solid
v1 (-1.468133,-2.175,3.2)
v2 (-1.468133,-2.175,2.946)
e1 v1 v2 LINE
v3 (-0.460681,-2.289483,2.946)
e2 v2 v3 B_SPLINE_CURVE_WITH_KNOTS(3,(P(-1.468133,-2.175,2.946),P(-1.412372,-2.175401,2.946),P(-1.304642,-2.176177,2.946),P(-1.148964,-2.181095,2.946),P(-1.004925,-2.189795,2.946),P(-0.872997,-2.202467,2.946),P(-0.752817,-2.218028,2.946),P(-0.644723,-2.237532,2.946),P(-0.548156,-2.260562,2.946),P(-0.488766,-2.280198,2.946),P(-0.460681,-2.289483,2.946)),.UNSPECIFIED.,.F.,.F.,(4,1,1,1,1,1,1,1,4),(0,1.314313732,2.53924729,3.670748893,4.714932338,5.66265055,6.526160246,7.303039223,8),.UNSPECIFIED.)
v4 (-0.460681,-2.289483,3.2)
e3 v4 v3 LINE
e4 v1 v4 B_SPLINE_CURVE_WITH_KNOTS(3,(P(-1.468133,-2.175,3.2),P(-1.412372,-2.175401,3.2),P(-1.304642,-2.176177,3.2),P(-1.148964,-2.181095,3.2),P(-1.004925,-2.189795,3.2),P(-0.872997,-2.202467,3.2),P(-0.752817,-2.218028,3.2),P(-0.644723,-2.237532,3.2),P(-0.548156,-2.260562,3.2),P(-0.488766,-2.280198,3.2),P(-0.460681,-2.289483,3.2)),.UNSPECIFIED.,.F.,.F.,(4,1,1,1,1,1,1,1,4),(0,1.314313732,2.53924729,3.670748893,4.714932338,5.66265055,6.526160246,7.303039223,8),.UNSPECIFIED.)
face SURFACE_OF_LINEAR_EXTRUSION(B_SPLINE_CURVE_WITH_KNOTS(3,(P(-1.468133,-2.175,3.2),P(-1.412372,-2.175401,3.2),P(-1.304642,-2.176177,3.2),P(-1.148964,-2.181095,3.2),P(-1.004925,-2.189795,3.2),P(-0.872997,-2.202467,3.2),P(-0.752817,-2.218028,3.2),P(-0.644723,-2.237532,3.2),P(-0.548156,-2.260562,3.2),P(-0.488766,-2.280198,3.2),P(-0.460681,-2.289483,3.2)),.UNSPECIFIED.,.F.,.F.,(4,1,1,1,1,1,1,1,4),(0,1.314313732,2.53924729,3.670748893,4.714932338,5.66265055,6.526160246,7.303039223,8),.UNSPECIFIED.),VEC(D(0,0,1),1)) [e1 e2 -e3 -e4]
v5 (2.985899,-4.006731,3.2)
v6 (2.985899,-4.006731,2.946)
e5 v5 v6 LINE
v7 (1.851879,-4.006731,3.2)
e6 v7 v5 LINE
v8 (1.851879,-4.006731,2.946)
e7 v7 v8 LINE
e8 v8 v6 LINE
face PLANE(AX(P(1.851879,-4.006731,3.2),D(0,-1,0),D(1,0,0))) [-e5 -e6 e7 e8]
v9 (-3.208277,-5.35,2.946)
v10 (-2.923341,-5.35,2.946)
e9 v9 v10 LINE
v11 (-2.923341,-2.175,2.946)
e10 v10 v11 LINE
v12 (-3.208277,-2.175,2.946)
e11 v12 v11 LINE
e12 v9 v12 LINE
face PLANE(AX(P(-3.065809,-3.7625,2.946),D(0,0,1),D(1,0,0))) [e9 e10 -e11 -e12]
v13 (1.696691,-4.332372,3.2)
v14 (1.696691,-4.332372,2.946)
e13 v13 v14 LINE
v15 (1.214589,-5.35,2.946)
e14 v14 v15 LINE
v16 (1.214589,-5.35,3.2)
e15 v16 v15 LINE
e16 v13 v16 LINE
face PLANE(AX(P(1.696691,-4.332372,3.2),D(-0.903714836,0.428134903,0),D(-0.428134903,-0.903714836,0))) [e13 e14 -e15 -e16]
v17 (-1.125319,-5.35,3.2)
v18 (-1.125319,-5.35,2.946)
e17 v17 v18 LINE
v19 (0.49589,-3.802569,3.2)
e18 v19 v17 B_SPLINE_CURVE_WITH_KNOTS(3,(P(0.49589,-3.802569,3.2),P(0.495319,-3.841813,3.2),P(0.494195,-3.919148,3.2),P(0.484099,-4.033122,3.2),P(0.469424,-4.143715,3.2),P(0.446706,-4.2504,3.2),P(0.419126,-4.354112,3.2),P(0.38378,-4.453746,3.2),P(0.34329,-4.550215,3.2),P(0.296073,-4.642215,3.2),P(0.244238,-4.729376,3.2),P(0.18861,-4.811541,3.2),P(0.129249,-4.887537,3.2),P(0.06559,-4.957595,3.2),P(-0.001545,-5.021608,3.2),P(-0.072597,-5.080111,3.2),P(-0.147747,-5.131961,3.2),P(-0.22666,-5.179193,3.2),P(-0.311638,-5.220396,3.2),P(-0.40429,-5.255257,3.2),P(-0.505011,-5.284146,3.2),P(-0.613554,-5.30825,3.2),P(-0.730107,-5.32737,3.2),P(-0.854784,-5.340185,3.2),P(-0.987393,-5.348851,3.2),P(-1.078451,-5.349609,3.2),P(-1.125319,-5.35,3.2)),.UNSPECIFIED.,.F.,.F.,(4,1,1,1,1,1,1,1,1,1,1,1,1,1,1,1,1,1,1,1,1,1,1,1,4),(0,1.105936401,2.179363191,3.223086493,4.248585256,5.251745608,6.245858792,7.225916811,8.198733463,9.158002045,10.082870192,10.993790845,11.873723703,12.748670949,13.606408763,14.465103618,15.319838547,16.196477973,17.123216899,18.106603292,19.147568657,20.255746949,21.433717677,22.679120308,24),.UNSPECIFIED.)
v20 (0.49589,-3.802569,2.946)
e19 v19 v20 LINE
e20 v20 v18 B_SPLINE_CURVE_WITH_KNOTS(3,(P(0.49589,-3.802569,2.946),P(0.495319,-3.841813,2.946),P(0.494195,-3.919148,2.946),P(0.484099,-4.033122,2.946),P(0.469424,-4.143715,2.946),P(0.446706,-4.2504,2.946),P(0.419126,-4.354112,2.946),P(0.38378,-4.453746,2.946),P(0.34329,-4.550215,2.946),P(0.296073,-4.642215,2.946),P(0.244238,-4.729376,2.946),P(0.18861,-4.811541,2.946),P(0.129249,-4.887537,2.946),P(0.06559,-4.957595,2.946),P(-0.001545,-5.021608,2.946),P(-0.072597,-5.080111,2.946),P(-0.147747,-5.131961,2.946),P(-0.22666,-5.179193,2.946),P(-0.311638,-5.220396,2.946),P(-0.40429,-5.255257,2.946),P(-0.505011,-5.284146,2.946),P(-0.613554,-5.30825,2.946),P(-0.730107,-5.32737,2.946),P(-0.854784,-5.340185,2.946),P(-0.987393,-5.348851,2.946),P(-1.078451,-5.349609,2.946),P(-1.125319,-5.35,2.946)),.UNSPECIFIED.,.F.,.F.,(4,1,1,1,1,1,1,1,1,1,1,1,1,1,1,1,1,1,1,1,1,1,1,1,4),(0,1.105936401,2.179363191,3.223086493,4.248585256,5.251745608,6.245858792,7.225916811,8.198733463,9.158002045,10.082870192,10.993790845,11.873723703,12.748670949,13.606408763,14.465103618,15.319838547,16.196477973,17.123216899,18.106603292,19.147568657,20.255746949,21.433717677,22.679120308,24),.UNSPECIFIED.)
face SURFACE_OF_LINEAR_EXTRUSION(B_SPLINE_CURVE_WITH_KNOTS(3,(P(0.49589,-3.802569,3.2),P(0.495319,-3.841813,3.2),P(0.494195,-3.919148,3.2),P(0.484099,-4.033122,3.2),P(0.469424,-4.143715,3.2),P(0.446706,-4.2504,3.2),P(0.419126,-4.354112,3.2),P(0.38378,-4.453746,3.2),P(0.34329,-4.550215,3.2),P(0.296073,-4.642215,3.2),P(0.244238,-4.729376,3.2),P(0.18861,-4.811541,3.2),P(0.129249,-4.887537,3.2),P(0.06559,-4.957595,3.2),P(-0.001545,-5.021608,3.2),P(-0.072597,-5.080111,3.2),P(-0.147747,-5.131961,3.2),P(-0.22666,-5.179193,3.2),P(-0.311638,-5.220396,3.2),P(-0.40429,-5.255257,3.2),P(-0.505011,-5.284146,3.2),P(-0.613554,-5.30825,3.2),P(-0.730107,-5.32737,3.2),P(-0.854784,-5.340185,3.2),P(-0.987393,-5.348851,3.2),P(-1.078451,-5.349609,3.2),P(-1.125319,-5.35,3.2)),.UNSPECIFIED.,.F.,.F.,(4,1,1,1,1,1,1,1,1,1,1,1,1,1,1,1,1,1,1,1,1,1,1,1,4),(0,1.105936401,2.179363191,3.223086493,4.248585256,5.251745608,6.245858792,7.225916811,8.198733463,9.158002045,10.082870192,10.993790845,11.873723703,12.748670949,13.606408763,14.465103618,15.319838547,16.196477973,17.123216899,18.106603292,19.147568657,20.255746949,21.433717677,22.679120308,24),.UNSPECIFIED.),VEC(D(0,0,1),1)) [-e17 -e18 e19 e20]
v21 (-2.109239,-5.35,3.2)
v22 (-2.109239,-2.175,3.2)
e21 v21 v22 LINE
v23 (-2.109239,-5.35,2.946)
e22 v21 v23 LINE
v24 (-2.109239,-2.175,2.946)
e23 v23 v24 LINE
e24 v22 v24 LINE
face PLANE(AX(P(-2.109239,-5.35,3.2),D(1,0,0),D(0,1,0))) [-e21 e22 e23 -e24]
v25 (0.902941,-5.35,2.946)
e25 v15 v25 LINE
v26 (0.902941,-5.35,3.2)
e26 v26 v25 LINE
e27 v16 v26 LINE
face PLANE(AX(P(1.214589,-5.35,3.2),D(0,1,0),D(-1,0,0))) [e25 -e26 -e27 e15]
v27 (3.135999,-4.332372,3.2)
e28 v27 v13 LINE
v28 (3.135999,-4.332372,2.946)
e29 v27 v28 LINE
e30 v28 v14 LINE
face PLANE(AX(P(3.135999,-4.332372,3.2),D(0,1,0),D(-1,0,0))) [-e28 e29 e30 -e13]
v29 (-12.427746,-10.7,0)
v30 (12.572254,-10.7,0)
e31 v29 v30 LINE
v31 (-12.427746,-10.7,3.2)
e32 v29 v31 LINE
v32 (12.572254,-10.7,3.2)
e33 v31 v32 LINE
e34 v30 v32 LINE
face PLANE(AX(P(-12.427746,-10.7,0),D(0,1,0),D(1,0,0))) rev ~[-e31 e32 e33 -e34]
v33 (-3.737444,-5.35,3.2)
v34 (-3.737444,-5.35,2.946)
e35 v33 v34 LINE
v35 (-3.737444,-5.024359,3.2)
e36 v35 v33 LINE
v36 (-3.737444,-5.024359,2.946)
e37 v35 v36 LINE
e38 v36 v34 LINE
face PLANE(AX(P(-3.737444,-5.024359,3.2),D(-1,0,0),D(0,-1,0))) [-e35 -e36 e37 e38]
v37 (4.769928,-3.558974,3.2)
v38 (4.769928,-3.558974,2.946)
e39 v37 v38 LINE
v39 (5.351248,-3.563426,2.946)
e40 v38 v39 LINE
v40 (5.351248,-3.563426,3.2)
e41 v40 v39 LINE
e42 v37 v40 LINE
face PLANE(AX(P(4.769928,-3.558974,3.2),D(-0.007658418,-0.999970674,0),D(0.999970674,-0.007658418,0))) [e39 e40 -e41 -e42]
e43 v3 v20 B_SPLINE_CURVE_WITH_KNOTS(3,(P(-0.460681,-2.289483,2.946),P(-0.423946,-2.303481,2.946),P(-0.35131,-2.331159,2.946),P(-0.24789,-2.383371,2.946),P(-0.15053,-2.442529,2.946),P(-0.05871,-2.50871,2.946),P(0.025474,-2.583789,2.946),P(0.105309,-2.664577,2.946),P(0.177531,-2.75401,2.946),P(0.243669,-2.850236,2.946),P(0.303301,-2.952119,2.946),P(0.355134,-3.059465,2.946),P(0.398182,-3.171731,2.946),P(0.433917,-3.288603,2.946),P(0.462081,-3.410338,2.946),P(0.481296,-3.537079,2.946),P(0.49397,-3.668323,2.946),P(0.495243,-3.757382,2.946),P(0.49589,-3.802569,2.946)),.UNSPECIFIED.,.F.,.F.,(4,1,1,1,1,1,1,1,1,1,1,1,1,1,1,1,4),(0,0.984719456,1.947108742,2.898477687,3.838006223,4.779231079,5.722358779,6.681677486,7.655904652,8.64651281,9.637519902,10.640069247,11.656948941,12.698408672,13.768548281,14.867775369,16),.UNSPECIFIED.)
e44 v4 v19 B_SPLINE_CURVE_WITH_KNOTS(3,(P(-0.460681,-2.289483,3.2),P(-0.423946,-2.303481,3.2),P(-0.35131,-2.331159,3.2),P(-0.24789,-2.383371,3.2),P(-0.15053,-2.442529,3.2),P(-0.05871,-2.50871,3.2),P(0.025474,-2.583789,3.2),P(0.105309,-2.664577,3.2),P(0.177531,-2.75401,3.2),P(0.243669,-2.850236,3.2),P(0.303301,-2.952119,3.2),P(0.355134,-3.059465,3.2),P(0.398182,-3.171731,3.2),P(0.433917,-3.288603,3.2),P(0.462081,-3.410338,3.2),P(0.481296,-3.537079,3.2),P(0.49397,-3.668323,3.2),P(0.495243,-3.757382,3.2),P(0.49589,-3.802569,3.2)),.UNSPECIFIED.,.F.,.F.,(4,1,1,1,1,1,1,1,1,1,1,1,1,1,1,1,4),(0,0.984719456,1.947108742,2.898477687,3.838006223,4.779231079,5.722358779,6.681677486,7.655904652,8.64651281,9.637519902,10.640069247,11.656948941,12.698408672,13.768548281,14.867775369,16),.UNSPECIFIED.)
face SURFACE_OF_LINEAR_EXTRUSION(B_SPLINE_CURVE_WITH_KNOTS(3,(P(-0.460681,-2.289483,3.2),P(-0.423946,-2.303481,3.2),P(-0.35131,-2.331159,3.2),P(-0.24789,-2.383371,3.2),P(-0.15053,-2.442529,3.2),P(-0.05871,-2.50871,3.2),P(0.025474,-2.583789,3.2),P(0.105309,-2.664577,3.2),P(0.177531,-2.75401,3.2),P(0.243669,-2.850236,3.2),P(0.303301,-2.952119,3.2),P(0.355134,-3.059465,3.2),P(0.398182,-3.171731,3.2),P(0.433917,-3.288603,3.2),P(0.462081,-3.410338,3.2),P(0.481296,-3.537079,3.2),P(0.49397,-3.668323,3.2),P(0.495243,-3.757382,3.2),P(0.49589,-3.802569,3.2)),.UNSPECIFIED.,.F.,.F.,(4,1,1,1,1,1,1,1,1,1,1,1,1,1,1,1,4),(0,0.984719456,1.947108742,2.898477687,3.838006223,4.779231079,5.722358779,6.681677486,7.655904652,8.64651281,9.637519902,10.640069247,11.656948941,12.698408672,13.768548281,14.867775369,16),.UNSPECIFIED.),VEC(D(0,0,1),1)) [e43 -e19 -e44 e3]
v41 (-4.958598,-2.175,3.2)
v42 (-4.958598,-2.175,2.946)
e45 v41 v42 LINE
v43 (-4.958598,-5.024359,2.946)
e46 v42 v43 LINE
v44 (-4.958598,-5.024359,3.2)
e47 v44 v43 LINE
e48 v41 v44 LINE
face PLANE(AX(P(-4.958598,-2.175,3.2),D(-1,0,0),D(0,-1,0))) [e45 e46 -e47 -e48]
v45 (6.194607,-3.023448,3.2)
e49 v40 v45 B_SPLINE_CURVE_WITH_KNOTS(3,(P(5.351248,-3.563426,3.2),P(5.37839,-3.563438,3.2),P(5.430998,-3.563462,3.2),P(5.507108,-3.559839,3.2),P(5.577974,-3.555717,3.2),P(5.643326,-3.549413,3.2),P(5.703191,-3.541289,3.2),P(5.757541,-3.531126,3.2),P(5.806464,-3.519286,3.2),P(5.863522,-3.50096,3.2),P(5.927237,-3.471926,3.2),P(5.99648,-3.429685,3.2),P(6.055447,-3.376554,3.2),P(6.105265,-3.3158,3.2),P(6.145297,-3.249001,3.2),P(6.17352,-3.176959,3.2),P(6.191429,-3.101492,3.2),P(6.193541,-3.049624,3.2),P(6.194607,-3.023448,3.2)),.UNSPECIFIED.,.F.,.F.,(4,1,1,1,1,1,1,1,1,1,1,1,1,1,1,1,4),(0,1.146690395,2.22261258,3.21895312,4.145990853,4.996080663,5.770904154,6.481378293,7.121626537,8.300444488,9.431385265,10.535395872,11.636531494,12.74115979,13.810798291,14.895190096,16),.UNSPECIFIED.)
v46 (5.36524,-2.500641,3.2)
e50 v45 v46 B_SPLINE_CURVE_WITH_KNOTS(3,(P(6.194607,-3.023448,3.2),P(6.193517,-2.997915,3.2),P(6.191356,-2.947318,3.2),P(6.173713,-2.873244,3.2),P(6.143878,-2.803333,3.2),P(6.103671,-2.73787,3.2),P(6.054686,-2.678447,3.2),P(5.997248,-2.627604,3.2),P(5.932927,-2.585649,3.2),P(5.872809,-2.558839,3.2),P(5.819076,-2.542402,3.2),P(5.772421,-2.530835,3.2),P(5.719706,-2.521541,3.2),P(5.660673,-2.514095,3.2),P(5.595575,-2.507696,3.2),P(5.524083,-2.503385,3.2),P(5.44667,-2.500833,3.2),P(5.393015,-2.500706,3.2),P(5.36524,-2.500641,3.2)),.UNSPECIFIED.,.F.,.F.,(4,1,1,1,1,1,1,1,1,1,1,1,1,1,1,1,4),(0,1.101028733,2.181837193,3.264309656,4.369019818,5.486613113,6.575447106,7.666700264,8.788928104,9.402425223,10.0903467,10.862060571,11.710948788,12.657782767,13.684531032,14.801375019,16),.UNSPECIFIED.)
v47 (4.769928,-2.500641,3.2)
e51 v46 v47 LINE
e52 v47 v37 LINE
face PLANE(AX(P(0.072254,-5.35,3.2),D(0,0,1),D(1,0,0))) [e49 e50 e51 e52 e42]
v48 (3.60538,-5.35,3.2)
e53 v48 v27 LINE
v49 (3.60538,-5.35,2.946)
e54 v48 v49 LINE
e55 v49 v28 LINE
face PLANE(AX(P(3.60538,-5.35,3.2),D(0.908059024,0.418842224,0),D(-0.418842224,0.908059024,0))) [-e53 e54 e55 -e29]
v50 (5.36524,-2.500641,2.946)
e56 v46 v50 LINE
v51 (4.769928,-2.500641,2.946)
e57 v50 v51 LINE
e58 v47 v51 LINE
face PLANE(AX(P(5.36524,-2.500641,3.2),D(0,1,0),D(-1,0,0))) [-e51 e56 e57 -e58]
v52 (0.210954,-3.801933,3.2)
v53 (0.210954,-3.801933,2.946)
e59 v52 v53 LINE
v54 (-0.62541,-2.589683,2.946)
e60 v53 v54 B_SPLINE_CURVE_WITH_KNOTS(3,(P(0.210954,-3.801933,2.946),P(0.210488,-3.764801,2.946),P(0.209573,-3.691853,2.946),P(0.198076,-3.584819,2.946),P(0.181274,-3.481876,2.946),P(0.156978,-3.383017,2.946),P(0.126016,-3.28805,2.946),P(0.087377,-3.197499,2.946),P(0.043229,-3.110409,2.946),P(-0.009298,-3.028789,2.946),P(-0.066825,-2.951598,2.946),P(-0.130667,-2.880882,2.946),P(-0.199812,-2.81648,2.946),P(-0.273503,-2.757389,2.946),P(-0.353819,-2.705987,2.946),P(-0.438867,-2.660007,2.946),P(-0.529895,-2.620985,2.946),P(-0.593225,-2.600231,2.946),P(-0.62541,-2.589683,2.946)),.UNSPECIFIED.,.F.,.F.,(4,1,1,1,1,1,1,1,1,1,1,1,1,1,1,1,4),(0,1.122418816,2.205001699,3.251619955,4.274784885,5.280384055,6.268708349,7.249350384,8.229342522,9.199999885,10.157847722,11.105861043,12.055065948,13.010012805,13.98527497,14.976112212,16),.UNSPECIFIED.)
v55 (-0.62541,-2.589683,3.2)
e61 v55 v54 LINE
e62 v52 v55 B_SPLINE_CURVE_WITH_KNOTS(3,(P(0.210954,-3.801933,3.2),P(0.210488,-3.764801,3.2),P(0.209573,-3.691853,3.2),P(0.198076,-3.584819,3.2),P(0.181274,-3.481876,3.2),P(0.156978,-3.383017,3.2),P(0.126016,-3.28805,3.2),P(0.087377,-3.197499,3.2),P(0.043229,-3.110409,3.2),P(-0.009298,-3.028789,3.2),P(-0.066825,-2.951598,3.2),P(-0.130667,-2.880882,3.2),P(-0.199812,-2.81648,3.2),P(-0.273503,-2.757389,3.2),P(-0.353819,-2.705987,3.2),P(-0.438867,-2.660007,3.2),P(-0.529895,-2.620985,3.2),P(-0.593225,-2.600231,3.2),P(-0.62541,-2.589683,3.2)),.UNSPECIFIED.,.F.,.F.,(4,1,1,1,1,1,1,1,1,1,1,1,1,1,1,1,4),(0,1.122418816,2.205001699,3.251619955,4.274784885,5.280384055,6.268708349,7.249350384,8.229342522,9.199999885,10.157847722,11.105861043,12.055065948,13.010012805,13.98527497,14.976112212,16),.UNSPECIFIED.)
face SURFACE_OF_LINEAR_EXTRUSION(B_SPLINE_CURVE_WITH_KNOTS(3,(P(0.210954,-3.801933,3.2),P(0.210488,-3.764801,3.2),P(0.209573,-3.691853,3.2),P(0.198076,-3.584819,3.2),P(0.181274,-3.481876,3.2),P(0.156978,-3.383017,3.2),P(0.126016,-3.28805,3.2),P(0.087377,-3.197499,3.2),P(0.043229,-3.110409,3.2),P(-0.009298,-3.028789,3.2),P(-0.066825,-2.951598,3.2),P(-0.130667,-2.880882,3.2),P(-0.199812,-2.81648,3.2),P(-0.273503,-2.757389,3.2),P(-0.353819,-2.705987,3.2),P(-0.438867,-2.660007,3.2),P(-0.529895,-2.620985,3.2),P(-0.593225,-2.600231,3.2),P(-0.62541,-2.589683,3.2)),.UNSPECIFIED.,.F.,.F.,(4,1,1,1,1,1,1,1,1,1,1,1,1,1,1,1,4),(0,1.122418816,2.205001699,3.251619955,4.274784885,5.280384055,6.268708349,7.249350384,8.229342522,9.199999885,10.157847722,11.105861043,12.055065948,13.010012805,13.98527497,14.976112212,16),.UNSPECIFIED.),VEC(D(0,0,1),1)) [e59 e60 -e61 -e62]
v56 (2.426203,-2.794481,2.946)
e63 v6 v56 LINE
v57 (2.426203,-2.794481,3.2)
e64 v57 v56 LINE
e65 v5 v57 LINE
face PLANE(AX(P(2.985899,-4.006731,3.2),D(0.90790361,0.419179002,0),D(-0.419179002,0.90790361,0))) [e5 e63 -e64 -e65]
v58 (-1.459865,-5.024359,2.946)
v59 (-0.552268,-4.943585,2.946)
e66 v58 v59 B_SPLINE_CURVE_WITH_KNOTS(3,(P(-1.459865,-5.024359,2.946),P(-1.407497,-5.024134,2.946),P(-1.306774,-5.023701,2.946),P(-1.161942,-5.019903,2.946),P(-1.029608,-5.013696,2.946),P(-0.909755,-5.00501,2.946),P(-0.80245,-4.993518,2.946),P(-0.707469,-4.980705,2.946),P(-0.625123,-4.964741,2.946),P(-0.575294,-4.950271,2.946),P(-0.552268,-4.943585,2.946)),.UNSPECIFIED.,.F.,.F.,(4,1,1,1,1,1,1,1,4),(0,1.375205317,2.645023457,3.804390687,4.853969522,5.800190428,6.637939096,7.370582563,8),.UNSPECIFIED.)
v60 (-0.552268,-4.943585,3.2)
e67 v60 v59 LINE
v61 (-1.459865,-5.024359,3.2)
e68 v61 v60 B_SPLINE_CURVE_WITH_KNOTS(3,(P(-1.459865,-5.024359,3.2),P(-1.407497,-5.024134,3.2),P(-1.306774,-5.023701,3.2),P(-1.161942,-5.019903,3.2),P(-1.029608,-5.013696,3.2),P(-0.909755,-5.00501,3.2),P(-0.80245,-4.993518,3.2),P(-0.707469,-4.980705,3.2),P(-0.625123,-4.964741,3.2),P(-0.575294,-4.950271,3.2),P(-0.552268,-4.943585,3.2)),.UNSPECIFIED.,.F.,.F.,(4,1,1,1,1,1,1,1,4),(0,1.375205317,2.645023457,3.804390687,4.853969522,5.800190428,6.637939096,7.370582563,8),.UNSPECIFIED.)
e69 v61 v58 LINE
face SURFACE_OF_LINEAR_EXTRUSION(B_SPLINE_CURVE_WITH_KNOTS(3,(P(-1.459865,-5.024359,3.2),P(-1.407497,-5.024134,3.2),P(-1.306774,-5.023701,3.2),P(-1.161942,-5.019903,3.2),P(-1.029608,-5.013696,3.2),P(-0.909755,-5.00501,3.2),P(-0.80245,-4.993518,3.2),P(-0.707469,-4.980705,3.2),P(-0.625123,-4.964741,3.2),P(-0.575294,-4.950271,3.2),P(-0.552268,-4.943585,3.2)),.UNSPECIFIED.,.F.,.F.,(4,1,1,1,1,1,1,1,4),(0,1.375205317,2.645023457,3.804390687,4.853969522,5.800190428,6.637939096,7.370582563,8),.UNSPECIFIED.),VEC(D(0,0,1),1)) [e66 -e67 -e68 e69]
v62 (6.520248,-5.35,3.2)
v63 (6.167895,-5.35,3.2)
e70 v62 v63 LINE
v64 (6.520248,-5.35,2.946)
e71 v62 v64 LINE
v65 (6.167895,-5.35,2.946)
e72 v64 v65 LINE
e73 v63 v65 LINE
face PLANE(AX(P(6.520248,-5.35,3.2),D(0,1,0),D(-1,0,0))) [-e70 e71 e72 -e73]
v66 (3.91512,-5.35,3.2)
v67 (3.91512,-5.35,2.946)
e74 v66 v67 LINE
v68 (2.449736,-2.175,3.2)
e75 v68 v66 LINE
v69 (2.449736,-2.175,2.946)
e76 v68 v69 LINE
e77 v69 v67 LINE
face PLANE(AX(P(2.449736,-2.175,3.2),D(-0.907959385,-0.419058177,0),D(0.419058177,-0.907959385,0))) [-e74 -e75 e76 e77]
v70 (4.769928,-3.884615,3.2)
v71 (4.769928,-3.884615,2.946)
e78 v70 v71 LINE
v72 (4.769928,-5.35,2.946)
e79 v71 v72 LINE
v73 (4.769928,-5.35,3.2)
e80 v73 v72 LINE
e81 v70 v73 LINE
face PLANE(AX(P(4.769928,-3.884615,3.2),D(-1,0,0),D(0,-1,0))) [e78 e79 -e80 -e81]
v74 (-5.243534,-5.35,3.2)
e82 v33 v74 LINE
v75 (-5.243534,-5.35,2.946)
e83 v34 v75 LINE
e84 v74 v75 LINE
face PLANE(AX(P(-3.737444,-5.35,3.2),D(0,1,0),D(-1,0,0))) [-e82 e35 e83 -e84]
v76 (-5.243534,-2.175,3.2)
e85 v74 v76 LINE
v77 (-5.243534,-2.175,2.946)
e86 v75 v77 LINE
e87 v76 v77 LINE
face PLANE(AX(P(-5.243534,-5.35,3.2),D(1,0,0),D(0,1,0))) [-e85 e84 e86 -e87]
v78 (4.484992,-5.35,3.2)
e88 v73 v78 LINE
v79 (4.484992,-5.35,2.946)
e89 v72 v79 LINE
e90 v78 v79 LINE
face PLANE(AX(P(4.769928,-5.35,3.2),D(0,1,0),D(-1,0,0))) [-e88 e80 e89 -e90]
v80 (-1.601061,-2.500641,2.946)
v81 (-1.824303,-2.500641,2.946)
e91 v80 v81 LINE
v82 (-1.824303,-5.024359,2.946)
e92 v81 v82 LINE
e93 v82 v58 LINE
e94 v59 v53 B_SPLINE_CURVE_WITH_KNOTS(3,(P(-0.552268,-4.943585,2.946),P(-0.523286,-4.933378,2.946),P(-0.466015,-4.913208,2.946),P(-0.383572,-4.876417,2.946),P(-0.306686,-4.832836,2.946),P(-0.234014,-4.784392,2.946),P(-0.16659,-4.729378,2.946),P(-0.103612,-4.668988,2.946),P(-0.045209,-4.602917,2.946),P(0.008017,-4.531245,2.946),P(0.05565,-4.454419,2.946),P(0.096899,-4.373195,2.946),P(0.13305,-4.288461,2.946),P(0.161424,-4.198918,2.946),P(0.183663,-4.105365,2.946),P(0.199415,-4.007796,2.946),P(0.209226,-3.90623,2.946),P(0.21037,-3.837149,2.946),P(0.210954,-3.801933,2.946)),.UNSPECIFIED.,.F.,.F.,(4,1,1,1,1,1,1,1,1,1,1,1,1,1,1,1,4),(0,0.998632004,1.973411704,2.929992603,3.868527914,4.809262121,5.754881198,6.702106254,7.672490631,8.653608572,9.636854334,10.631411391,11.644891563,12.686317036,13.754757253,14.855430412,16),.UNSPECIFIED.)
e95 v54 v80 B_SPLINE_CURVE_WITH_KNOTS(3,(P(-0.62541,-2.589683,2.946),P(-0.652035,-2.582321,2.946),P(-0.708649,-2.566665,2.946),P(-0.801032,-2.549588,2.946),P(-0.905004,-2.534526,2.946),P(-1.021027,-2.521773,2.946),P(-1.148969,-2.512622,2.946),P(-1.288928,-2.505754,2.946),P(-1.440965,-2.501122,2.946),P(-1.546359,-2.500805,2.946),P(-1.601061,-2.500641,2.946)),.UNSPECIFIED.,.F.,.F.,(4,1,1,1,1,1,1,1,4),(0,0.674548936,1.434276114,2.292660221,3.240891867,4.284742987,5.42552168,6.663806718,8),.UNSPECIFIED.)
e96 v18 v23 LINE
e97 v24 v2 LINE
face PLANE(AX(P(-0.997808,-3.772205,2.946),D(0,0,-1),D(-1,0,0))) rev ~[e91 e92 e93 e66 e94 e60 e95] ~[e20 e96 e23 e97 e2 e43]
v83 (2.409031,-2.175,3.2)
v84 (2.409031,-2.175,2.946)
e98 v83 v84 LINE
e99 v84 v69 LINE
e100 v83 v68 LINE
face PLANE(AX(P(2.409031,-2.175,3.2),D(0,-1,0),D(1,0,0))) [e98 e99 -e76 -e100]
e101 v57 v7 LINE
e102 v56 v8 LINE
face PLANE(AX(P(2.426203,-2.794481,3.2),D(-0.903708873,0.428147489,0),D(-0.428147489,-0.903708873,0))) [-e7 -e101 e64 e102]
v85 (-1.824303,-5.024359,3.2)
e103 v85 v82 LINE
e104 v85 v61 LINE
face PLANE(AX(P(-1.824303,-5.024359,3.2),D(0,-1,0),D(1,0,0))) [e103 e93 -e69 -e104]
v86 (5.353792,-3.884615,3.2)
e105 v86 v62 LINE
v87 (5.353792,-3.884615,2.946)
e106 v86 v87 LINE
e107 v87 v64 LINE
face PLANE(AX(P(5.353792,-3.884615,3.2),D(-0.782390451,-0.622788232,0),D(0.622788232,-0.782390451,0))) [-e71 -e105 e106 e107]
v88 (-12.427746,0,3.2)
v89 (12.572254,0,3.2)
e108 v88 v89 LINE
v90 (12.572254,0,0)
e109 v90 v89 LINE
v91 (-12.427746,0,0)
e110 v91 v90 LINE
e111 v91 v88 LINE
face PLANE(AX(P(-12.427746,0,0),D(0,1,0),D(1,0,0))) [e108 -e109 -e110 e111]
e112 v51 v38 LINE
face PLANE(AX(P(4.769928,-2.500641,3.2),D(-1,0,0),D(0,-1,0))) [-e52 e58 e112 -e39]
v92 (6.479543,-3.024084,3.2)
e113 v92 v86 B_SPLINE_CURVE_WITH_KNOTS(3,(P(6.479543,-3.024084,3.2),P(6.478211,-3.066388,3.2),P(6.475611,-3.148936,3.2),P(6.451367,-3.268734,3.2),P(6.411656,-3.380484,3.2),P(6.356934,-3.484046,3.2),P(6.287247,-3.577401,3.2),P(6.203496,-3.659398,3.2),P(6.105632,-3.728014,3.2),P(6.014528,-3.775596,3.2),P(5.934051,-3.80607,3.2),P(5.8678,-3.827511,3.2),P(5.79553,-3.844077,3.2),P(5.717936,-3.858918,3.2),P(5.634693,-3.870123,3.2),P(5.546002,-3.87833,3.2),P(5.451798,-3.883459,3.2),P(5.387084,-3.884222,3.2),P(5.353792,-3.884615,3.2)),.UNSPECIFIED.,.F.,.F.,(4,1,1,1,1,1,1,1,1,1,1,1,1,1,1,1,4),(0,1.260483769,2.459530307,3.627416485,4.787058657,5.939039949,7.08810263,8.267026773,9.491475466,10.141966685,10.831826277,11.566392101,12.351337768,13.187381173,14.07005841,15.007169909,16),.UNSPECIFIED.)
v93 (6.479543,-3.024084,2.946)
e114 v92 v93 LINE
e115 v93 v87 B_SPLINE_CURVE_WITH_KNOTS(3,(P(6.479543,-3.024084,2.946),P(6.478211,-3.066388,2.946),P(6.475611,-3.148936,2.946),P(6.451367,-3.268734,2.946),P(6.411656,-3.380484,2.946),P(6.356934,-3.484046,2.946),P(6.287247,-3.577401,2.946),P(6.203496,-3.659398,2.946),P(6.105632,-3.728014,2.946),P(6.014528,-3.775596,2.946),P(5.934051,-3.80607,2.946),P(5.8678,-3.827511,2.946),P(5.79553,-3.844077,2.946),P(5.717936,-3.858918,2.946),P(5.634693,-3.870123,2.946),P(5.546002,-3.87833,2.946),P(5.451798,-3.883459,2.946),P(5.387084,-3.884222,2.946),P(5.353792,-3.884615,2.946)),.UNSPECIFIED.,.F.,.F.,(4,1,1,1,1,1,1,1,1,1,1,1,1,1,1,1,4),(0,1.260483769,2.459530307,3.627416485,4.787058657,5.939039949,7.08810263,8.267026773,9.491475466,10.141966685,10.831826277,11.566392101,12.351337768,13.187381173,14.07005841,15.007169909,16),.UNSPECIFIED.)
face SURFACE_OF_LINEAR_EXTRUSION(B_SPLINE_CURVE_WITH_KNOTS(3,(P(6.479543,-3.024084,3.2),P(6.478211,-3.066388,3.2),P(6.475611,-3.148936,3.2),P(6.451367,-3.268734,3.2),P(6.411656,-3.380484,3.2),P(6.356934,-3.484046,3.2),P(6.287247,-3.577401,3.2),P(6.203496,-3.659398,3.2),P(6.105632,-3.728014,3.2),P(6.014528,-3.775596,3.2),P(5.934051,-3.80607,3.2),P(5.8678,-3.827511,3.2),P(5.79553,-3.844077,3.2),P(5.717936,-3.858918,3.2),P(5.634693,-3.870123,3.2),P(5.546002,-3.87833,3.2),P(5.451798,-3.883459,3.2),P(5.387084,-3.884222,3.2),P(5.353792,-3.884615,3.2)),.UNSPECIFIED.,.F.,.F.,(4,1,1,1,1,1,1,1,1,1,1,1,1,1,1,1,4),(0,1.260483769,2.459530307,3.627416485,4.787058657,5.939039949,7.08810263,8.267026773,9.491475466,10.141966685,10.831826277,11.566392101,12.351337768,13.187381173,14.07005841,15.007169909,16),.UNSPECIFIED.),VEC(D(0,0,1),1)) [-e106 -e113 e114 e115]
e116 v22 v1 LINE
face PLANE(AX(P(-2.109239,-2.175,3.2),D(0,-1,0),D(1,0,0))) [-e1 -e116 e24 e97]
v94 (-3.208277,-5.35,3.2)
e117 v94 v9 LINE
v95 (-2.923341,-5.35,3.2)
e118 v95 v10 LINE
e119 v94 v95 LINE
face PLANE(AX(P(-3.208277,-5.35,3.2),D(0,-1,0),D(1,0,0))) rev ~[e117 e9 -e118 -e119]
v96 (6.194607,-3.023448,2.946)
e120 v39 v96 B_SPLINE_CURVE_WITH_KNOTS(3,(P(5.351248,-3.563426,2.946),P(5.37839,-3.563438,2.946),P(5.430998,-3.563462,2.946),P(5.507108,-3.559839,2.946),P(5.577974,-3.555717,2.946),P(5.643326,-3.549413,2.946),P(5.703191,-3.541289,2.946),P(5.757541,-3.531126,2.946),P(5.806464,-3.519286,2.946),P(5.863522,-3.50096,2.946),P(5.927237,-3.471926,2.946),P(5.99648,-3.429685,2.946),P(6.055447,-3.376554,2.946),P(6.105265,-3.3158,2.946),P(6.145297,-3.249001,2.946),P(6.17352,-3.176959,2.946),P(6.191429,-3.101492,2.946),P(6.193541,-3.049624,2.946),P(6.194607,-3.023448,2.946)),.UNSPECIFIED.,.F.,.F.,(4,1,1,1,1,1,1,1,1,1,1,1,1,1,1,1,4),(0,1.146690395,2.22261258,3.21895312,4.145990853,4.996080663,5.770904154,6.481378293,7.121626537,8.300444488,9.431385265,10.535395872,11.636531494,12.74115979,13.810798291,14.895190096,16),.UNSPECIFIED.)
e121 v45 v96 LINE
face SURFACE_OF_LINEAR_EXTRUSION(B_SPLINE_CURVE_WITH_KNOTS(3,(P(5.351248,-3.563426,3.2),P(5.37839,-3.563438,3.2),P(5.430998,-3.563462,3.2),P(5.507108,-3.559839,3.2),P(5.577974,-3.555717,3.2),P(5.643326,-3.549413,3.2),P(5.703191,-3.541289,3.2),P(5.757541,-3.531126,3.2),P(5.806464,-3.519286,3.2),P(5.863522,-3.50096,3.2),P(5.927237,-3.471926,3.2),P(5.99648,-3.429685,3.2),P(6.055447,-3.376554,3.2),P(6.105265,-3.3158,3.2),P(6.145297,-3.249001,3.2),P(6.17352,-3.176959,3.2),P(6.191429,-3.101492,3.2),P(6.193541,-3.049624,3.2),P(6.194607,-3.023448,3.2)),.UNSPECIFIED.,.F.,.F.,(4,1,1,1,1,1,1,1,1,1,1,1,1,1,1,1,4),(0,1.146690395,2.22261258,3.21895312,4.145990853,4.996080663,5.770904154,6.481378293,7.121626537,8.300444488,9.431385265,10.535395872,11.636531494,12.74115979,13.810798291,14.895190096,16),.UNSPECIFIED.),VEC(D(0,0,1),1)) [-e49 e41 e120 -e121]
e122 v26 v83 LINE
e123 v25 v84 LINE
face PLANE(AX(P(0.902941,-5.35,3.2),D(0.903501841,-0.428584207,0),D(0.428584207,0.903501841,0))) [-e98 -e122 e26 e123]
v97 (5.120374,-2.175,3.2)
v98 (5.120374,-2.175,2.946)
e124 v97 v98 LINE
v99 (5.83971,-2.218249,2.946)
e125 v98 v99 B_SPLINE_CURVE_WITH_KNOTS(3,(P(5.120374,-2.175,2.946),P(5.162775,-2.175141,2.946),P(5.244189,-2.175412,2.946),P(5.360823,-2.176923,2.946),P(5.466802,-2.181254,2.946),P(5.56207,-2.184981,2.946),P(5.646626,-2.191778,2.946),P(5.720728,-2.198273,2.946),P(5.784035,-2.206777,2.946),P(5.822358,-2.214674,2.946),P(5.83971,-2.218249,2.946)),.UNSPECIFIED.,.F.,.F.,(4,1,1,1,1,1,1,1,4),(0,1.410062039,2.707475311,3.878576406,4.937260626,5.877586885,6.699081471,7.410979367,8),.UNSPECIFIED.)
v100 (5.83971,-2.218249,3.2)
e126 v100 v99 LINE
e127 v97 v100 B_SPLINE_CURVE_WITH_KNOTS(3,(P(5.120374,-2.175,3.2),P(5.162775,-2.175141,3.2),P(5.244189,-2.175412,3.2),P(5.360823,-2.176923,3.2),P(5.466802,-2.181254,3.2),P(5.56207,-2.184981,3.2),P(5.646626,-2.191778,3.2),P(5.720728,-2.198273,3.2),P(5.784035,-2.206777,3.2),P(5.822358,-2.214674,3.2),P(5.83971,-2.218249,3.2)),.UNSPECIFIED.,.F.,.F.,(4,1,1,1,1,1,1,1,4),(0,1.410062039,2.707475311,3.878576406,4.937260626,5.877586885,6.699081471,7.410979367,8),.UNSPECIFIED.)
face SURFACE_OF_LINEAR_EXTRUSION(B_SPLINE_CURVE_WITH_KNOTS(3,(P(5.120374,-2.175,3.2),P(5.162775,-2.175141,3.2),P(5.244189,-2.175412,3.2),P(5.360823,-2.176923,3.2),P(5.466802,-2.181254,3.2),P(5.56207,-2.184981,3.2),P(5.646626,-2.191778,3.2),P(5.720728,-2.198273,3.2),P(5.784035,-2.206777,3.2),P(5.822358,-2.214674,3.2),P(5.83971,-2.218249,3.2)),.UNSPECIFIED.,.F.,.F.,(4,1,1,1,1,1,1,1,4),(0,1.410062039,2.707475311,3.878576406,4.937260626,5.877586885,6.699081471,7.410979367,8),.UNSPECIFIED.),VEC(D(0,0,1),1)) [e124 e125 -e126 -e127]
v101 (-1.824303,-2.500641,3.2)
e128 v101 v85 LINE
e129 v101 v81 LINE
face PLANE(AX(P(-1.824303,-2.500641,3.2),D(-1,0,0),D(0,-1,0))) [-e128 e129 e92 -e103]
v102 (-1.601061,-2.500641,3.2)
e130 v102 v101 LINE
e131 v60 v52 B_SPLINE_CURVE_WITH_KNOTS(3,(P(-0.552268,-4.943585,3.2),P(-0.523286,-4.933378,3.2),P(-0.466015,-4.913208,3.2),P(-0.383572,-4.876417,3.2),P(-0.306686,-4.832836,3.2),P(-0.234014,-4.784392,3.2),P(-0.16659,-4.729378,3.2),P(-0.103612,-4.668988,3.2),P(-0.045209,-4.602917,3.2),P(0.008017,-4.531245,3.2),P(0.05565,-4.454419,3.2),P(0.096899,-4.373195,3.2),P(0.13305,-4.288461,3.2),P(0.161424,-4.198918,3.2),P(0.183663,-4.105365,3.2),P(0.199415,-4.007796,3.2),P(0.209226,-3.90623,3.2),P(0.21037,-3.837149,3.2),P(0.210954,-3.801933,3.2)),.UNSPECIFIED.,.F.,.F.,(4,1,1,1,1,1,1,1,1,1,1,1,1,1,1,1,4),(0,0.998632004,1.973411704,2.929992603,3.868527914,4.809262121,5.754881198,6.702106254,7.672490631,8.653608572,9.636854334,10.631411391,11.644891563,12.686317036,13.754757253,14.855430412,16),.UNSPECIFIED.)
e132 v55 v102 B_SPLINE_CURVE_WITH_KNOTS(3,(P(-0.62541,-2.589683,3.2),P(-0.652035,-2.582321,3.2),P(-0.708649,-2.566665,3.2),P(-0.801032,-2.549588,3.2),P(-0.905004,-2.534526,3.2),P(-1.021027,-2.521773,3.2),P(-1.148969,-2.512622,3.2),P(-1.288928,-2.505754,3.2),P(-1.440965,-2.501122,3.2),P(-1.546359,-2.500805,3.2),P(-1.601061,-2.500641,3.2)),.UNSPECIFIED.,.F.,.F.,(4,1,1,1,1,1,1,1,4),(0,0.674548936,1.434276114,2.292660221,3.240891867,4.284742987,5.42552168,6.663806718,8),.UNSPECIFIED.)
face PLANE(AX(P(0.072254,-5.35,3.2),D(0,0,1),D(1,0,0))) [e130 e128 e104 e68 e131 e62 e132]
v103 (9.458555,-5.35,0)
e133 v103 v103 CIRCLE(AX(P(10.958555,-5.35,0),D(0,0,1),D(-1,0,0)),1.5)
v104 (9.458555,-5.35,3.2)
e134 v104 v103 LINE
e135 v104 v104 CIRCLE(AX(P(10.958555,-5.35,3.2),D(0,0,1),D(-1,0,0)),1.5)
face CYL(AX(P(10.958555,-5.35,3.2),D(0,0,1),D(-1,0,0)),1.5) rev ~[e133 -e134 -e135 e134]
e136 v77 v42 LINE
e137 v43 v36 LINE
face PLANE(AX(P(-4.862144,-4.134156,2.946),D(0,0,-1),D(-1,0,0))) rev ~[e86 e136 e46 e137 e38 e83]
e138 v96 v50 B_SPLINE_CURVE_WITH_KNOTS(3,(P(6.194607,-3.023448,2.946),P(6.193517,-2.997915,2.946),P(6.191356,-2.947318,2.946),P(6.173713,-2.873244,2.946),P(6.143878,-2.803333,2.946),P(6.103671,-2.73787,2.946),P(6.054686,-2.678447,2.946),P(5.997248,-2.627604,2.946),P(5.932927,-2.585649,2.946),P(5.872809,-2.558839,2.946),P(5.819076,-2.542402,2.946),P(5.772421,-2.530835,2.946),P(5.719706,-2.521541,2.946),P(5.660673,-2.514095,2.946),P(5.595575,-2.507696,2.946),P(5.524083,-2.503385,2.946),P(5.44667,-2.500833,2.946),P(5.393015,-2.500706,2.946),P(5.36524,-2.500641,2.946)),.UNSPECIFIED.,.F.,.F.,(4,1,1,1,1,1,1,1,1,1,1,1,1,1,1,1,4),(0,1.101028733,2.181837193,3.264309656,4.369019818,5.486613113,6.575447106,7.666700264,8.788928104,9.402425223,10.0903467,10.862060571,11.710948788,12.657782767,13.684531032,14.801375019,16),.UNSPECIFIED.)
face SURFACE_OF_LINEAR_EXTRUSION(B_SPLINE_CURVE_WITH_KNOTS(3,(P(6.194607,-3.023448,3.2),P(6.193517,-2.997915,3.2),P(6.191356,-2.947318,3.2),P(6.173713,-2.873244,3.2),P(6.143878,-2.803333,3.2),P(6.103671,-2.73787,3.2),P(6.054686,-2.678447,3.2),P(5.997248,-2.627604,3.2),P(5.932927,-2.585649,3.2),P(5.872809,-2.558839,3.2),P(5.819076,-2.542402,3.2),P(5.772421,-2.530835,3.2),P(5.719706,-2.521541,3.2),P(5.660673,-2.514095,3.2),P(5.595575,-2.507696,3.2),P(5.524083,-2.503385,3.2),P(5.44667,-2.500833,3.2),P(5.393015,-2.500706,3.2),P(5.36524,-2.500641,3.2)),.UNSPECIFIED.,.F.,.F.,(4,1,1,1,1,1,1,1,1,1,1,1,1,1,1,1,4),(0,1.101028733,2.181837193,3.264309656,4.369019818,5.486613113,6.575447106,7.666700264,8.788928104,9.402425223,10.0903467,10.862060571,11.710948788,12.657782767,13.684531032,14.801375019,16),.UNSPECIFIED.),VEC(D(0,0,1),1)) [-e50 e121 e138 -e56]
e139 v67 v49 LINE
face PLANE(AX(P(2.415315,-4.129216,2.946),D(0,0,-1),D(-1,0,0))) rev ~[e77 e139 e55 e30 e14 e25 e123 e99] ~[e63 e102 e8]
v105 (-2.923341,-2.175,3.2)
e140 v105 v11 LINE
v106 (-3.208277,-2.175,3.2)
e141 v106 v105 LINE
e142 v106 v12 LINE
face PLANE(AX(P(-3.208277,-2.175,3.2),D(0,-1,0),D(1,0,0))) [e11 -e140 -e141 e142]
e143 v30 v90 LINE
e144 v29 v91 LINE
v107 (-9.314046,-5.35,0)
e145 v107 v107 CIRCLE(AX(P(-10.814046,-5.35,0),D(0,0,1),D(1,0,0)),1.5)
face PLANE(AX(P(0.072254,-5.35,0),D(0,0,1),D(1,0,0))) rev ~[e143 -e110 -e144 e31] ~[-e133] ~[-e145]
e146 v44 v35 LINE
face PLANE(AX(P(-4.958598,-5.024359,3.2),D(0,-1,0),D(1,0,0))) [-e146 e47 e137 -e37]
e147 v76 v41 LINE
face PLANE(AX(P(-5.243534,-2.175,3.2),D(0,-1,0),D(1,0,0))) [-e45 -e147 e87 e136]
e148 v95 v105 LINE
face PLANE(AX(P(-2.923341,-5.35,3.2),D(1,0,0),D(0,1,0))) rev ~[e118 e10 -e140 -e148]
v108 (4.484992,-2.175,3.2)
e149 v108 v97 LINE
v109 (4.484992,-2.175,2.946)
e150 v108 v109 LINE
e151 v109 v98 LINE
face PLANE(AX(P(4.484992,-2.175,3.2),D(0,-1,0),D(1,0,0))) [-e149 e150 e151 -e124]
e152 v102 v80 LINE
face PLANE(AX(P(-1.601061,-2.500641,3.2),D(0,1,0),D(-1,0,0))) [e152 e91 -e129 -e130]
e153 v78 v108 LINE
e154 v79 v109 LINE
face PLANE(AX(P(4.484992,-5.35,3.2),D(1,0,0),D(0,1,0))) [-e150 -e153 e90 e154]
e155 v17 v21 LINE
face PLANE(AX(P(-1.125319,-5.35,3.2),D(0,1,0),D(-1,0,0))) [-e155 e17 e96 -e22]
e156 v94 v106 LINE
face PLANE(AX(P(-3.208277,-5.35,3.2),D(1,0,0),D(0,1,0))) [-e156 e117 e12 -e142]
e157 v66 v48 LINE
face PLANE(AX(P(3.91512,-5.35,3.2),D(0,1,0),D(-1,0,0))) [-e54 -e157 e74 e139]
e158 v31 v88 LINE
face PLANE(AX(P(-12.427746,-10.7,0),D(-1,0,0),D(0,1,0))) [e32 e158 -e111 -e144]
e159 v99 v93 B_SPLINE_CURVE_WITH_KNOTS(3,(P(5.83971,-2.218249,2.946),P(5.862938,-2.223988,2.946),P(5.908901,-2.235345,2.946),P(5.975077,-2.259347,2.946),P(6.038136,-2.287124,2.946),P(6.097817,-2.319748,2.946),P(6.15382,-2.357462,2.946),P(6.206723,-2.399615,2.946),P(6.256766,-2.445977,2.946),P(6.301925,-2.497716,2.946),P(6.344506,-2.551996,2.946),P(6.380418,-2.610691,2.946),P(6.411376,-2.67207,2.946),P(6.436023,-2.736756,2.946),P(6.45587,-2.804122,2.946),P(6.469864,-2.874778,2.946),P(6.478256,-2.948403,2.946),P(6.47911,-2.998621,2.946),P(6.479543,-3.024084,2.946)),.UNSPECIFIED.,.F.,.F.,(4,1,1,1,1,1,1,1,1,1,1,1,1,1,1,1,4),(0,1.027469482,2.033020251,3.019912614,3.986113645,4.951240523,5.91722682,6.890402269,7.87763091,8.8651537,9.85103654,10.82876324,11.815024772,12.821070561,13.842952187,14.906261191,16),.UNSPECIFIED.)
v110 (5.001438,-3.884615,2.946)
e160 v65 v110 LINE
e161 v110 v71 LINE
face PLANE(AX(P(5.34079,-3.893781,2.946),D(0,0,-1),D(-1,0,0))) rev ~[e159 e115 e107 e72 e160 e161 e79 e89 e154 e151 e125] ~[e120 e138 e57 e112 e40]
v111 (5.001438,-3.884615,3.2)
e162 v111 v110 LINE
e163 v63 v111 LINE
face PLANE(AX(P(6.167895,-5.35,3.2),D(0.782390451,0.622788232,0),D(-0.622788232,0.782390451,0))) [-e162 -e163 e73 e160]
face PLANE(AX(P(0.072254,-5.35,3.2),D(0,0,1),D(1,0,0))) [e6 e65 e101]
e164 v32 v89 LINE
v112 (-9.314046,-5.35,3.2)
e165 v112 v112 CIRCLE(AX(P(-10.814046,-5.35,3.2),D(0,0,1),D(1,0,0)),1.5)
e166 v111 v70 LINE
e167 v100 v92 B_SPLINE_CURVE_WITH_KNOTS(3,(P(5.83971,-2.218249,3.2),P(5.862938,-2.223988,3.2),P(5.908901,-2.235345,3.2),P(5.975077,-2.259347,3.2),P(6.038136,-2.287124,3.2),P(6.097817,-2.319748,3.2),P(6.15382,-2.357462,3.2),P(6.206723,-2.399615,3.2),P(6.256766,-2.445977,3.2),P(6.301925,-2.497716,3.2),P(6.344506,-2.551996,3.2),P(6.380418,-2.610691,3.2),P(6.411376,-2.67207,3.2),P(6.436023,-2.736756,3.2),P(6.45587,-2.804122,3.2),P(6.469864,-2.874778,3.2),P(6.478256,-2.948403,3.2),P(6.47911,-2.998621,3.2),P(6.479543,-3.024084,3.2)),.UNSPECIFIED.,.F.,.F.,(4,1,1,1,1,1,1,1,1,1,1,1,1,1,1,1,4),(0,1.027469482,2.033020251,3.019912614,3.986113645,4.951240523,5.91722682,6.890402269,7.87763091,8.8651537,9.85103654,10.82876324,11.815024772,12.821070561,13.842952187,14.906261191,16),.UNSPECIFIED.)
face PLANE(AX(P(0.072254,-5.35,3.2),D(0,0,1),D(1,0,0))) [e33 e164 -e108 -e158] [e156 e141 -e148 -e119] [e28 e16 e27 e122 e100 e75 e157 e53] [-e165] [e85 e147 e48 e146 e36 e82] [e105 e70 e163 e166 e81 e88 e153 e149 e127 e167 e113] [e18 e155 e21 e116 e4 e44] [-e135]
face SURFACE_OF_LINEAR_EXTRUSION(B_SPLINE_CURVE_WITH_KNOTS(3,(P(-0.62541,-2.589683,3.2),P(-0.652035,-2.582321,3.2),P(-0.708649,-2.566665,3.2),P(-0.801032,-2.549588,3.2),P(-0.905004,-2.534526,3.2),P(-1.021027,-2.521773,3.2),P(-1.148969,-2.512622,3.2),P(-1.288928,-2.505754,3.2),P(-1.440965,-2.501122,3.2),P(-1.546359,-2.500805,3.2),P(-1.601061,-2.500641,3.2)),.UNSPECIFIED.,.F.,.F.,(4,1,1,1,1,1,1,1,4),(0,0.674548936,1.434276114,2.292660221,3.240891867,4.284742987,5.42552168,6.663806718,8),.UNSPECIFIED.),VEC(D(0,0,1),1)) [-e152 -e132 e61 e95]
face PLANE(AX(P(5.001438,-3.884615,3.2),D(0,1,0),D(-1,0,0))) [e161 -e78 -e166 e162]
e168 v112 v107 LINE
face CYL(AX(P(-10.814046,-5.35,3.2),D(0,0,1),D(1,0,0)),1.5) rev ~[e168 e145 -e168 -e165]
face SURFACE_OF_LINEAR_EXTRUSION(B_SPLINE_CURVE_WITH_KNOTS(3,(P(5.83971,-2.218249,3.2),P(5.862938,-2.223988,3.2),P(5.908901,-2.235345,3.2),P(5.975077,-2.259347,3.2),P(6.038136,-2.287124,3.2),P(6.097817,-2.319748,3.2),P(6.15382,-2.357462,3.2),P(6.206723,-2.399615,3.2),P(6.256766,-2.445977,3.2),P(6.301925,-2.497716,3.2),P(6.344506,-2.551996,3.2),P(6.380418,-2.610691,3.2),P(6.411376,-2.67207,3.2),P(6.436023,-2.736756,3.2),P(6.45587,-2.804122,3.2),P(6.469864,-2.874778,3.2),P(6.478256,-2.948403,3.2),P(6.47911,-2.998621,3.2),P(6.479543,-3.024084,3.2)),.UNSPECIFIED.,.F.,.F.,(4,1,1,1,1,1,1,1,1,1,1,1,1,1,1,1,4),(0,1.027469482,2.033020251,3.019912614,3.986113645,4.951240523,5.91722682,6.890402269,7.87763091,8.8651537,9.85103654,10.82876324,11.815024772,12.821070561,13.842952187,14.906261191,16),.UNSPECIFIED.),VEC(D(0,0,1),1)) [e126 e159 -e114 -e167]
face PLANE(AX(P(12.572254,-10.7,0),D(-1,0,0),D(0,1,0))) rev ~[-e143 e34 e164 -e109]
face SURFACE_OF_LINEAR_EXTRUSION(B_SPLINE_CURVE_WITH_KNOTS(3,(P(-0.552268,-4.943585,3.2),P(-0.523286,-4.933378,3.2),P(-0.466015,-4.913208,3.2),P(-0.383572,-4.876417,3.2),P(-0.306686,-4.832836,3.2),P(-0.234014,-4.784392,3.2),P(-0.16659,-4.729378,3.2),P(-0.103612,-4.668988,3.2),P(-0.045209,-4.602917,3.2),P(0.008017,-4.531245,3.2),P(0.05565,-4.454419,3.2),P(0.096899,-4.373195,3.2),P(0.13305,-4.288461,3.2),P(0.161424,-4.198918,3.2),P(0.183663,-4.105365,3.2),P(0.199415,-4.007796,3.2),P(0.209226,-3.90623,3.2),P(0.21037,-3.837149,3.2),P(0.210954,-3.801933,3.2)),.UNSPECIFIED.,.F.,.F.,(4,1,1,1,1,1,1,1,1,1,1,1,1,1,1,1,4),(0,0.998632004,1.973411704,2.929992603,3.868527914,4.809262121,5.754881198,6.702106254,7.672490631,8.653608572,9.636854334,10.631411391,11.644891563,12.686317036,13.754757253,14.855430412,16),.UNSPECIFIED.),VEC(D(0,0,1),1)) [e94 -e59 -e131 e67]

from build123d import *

# Parameters (mm, degrees)
SKETCH2_W           = 25
SKETCH2_H           = 10.7
BOSS_EXTRUDE1_DEPTH = 3.2
SKETCH3_R           = 1.5
CUT_EXTRUDE2_DEPTH  = 3.2
SKETCH4_W           = 0.284935898
SKETCH4_H           = 3.175
CUT_EXTRUDE3_DEPTH  = 0.254


with BuildPart() as part:
    # Sketch2 → Boss-Extrude1 (new body)
    with BuildSketch(Plane.XY):
        with Locations((0.072254335, -5.35)):
            Rectangle(SKETCH2_W, SKETCH2_H)
    extrude(amount=BOSS_EXTRUDE1_DEPTH)

    # Sketch3 → Cut-Extrude2 (cut)
    with BuildSketch(Plane.XY.offset(3.2)):
        with Locations((-10.814046376, -5.35)):
            Circle(SKETCH3_R)
        with Locations(Location((10.958555047, -5.35, 0), (0, 0, 180))):
            Circle(SKETCH3_R)
    extrude(amount=-CUT_EXTRUDE2_DEPTH, mode=Mode.SUBTRACT)

    # Sketch4 → Cut-Extrude3 (cut)
    # profile 1 of 5: a face of its own
    with BuildSketch(Plane.XY.offset(3.2)):
        Polygon((-5.243533556, -2.175), (-4.958597658, -2.175), (-4.958597658, -5.024358974), (-3.737443812, -5.024358974), (-3.737443812, -5.35), (-5.243533556, -5.35), align=None)
    # profile 2 of 5: a face of its own
    with BuildSketch(Plane.XY.offset(3.2)):
        with Locations((-3.065809197, -3.7625)):
            Rectangle(SKETCH4_W, SKETCH4_H)
    # profile 3 of 5: a face of its own
    with BuildSketch(Plane.XY.offset(3.2)):
        with BuildLine():
            Line((-2.109238684, -5.35), (-2.109238684, -2.175))
            Line((-2.109238684, -2.175), (-1.468132915, -2.175))
            add(Edge.make_bspline(
                [(-1.468132915, -2.175), (-1.412371761, -2.175401474), (-1.304641503, -2.17617712), (-1.148964497, -2.181095097), (-1.004924941, -2.189795019), (-0.872996561, -2.202467375), (-0.752817176, -2.218027627), (-0.644723296, -2.237531565), (-0.548155995, -2.260562263), (-0.48876586, -2.280197778), (-0.460680992, -2.289483173)],
                knots=[0, 0, 0, 0, 1.314313732, 2.53924729, 3.670748893, 4.714932338, 5.66265055, 6.526160246, 7.303039223, 8, 8, 8, 8], degree=3))
            add(Edge.make_bspline(
                [(-0.460680992, -2.289483173), (-0.423946478, -2.303481027), (-0.351310468, -2.331159311), (-0.247889721, -2.383371099), (-0.150530285, -2.442528698), (-0.05871006, -2.508710088), (0.025473546, -2.583789176), (0.105309281, -2.664576675), (0.177531209, -2.754010383), (0.243669449, -2.850235551), (0.303301083, -2.952118627), (0.355134462, -3.059465476), (0.398182013, -3.171730943), (0.433917297, -3.288602827), (0.462080869, -3.410338113), (0.481295908, -3.537078548), (0.493969591, -3.668323242), (0.495243266, -3.757381505), (0.495889521, -3.802569111)],
                knots=[0, 0, 0, 0, 0.984719456, 1.947108742, 2.898477687, 3.838006223, 4.779231079, 5.722358779, 6.681677486, 7.655904652, 8.64651281, 9.637519902, 10.640069247, 11.656948941, 12.698408672, 13.768548281, 14.867775369, 16, 16, 16, 16], degree=3))
            add(Edge.make_bspline(
                [(0.495889521, -3.802569111), (0.495318958, -3.841813234), (0.494194603, -3.919147878), (0.484098724, -4.033122119), (0.46942449, -4.143715145), (0.446705825, -4.250400316), (0.419126402, -4.354112342), (0.383780351, -4.453745878), (0.343289579, -4.550214905), (0.296072904, -4.642215044), (0.244237505, -4.729376388), (0.188609923, -4.811541332), (0.129249492, -4.887537426), (0.065590168, -4.95759481), (-0.001545403, -5.02160787), (-0.07259676, -5.080111341), (-0.147747242, -5.131960502), (-0.226660255, -5.179192807), (-0.311637886, -5.220395558), (-0.404289708, -5.255257067), (-0.505010848, -5.284146497), (-0.61355408, -5.308250095), (-0.730106949, -5.327370219), (-0.854783725, -5.340184875), (-0.987392852, -5.34885075), (-1.078451186, -5.349609478), (-1.125319413, -5.35)],
                knots=[0, 0, 0, 0, 1.105936401, 2.179363191, 3.223086493, 4.248585256, 5.251745608, 6.245858792, 7.225916811, 8.198733463, 9.158002045, 10.082870192, 10.993790845, 11.873723703, 12.748670949, 13.606408763, 14.465103618, 15.319838547, 16.196477973, 17.123216899, 18.106603292, 19.147568657, 20.255746949, 21.433717677, 22.679120308, 24, 24, 24, 24], degree=3))
            Line((-1.125319413, -5.35), (-2.109238684, -5.35))
        make_face()
        with BuildLine():
            Line((-1.824302787, -5.024358974), (-1.459864686, -5.024358974))
            add(Edge.make_bspline(
                [(-1.459864686, -5.024358974), (-1.407496806, -5.024133916), (-1.306774196, -5.023701045), (-1.161941585, -5.019902653), (-1.029608132, -5.013696039), (-0.909755049, -5.005010075), (-0.802450005, -4.993517832), (-0.707468746, -4.980704527), (-0.625122619, -4.964741125), (-0.575293773, -4.950271326), (-0.55226753, -4.943584736)],
                knots=[0, 0, 0, 0, 1.375205317, 2.645023457, 3.804390687, 4.853969522, 5.800190428, 6.637939096, 7.370582563, 8, 8, 8, 8], degree=3))
            add(Edge.make_bspline(
                [(-0.55226753, -4.943584736), (-0.523285802, -4.933377965), (-0.466014573, -4.913208212), (-0.383572445, -4.876416619), (-0.306685734, -4.832835599), (-0.234014497, -4.784392108), (-0.166589602, -4.72937752), (-0.103612011, -4.668988123), (-0.04520852, -4.602916577), (0.00801746, -4.531244888), (0.055649992, -4.454419144), (0.096898893, -4.373194631), (0.133049926, -4.28846131), (0.161424078, -4.198918002), (0.183663215, -4.105365213), (0.199415467, -4.007796363), (0.209225967, -3.906229671), (0.210370281, -3.837148816), (0.210953624, -3.801933093)],
                knots=[0, 0, 0, 0, 0.998632004, 1.973411704, 2.929992603, 3.868527914, 4.809262121, 5.754881198, 6.702106254, 7.672490631, 8.653608572, 9.636854334, 10.631411391, 11.644891563, 12.686317036, 13.754757253, 14.855430412, 16, 16, 16, 16], degree=3))
            add(Edge.make_bspline(
                [(0.210953624, -3.801933093), (0.210487999, -3.764800579), (0.209573274, -3.691853426), (0.198075864, -3.584819009), (0.181274167, -3.481875848), (0.156977538, -3.383017056), (0.126015955, -3.288049765), (0.08737653, -3.19749921), (0.043228954, -3.110409079), (-0.009297645, -3.028789475), (-0.066824647, -2.951597869), (-0.130667438, -2.880881624), (-0.199811715, -2.816479652), (-0.273503329, -2.75738899), (-0.353819126, -2.705986941), (-0.438867117, -2.66000688), (-0.529894976, -2.620985322), (-0.593225064, -2.600230925), (-0.625409557, -2.589683494)],
                knots=[0, 0, 0, 0, 1.122418816, 2.205001699, 3.251619955, 4.274784885, 5.280384055, 6.268708349, 7.249350384, 8.229342522, 9.199999885, 10.157847722, 11.105861043, 12.055065948, 13.010012805, 13.98527497, 14.976112212, 16, 16, 16, 16], degree=3))
            add(Edge.make_bspline(
                [(-0.625409557, -2.589683494), (-0.65203524, -2.582320734), (-0.708648747, -2.566665487), (-0.801031689, -2.549588185), (-0.905004004, -2.534525532), (-1.021027304, -2.521772882), (-1.148969335, -2.512622241), (-1.288928494, -2.505753977), (-1.440965279, -2.501121532), (-1.546359434, -2.500805204), (-1.601060599, -2.500641026)],
                knots=[0, 0, 0, 0, 0.674548936, 1.434276114, 2.292660221, 3.240891867, 4.284742987, 5.42552168, 6.663806718, 8, 8, 8, 8], degree=3))
            Line((-1.601060599, -2.500641026), (-1.824302787, -2.500641026))
            Line((-1.824302787, -2.500641026), (-1.824302787, -5.024358974))
        make_face(mode=Mode.SUBTRACT)
    # profile 4 of 5: a face of its own
    with BuildSketch(Plane.XY.offset(3.2)):
        Polygon((2.449735675, -2.175), (3.91512029, -5.35), (3.605379705, -5.35), (3.135998696, -4.332371795), (1.696690803, -4.332371795), (1.214589441, -5.35), (0.902940803, -5.35), (2.409030547, -2.175), align=None)
        Polygon((2.426203023, -2.79448117), (1.851879104, -4.006730769), (2.985898536, -4.006730769), align=None, mode=Mode.SUBTRACT)
    # profile 5 of 5: a face of its own
    with BuildSketch(Plane.XY.offset(3.2)):
        with BuildLine():
            Line((4.484992085, -2.175), (5.120373696, -2.175))
            add(Edge.make_bspline(
                [(5.120373696, -2.175), (5.162774577, -2.175141139), (5.244188965, -2.175412141), (5.360823289, -2.176923226), (5.466802155, -2.181254248), (5.562070152, -2.18498132), (5.646625532, -2.191777582), (5.720727574, -2.198273311), (5.784034986, -2.206776561), (5.822358008, -2.214673623), (5.839709633, -2.218249199)],
                knots=[0, 0, 0, 0, 1.410062039, 2.707475311, 3.878576406, 4.937260626, 5.877586885, 6.699081471, 7.410979367, 8, 8, 8, 8], degree=3))
            add(Edge.make_bspline(
                [(5.839709633, -2.218249199), (5.862938499, -2.223988479), (5.908900697, -2.235344604), (5.975076828, -2.259347242), (6.038136251, -2.287123616), (6.09781702, -2.319747848), (6.153820202, -2.357462112), (6.206723241, -2.399615338), (6.256766197, -2.445976874), (6.301925247, -2.497715623), (6.344505673, -2.551995886), (6.380418213, -2.610691437), (6.411375805, -2.672070108), (6.436023345, -2.736756123), (6.455869793, -2.804122159), (6.469863596, -2.874778424), (6.478255744, -2.948403023), (6.479110142, -2.998620555), (6.479543367, -3.024083534)],
                knots=[0, 0, 0, 0, 1.027469482, 2.033020251, 3.019912614, 3.986113645, 4.951240523, 5.91722682, 6.890402269, 7.87763091, 8.8651537, 9.85103654, 10.82876324, 11.815024772, 12.821070561, 13.842952187, 14.906261191, 16, 16, 16, 16], degree=3))
            add(Edge.make_bspline(
                [(6.479543367, -3.024083534), (6.478210776, -3.066388236), (6.475610546, -3.148935667), (6.451367059, -3.268733752), (6.411655502, -3.380484059), (6.356933661, -3.48404588), (6.287247422, -3.577400537), (6.203495647, -3.659397593), (6.105631614, -3.728013799), (6.014527877, -3.775595987), (5.934051425, -3.806069554), (5.867799777, -3.827511108), (5.795530447, -3.844077319), (5.717935865, -3.858918296), (5.634693121, -3.870123047), (5.546001728, -3.878329601), (5.451798433, -3.883458631), (5.387083706, -3.884222449), (5.353792165, -3.884615385)],
                knots=[0, 0, 0, 0, 1.260483769, 2.459530307, 3.627416485, 4.787058657, 5.939039949, 7.08810263, 8.267026773, 9.491475466, 10.141966685, 10.831826277, 11.566392101, 12.351337768, 13.187381173, 14.07005841, 15.007169909, 16, 16, 16, 16], degree=3))
            Line((5.353792165, -3.884615385), (6.520248495, -5.35))
            Line((6.520248495, -5.35), (6.167894729, -5.35))
            Line((6.167894729, -5.35), (5.001438399, -3.884615385))
            Line((5.001438399, -3.884615385), (4.769927983, -3.884615385))
            Line((4.769927983, -3.884615385), (4.769927983, -5.35))
            Line((4.769927983, -5.35), (4.484992085, -5.35))
            Line((4.484992085, -5.35), (4.484992085, -2.175))
        make_face()
        with BuildLine():
            Line((4.769927983, -2.500641026), (4.769927983, -3.558974359))
            Line((4.769927983, -3.558974359), (5.351248095, -3.563426482))
            add(Edge.make_bspline(
                [(5.351248095, -3.563426482), (5.378389844, -3.56343849), (5.430998286, -3.563461764), (5.507108174, -3.559838838), (5.577974276, -3.5557174), (5.643325529, -3.54941335), (5.70319113, -3.541288914), (5.757541155, -3.531126207), (5.806464323, -3.519286121), (5.863522283, -3.500960361), (5.927236851, -3.47192633), (5.996480389, -3.429684771), (6.055446796, -3.376554212), (6.105265142, -3.31579972), (6.145296841, -3.249001123), (6.173519919, -3.176959131), (6.191429134, -3.101492467), (6.193541458, -3.049623755), (6.19460747, -3.023447516)],
                knots=[0, 0, 0, 0, 1.146690395, 2.22261258, 3.21895312, 4.145990853, 4.996080663, 5.770904154, 6.481378293, 7.121626537, 8.300444488, 9.431385265, 10.535395872, 11.636531494, 12.74115979, 13.810798291, 14.895190096, 16, 16, 16, 16], degree=3))
            add(Edge.make_bspline(
                [(6.19460747, -3.023447516), (6.193516974, -2.997914553), (6.19135601, -2.947317536), (6.173713199, -2.87324396), (6.143877831, -2.803333227), (6.10367123, -2.73786973), (6.054686282, -2.67844667), (5.99724798, -2.627603895), (5.932926839, -2.585649024), (5.872809395, -2.558838978), (5.819075502, -2.542401683), (5.772421453, -2.530834556), (5.719706041, -2.521541359), (5.660673304, -2.514095475), (5.595575253, -2.507695633), (5.524082734, -2.503385091), (5.446670083, -2.500832514), (5.393015367, -2.500706341), (5.365240483, -2.500641026)],
                knots=[0, 0, 0, 0, 1.101028733, 2.181837193, 3.264309656, 4.369019818, 5.486613113, 6.575447106, 7.666700264, 8.788928104, 9.402425223, 10.0903467, 10.862060571, 11.710948788, 12.657782767, 13.684531032, 14.801375019, 16, 16, 16, 16], degree=3))
            Line((5.365240483, -2.500641026), (4.769927983, -2.500641026))
        make_face(mode=Mode.SUBTRACT)
    extrude(amount=-CUT_EXTRUDE3_DEPTH, mode=Mode.SUBTRACT)


solid = part.part
